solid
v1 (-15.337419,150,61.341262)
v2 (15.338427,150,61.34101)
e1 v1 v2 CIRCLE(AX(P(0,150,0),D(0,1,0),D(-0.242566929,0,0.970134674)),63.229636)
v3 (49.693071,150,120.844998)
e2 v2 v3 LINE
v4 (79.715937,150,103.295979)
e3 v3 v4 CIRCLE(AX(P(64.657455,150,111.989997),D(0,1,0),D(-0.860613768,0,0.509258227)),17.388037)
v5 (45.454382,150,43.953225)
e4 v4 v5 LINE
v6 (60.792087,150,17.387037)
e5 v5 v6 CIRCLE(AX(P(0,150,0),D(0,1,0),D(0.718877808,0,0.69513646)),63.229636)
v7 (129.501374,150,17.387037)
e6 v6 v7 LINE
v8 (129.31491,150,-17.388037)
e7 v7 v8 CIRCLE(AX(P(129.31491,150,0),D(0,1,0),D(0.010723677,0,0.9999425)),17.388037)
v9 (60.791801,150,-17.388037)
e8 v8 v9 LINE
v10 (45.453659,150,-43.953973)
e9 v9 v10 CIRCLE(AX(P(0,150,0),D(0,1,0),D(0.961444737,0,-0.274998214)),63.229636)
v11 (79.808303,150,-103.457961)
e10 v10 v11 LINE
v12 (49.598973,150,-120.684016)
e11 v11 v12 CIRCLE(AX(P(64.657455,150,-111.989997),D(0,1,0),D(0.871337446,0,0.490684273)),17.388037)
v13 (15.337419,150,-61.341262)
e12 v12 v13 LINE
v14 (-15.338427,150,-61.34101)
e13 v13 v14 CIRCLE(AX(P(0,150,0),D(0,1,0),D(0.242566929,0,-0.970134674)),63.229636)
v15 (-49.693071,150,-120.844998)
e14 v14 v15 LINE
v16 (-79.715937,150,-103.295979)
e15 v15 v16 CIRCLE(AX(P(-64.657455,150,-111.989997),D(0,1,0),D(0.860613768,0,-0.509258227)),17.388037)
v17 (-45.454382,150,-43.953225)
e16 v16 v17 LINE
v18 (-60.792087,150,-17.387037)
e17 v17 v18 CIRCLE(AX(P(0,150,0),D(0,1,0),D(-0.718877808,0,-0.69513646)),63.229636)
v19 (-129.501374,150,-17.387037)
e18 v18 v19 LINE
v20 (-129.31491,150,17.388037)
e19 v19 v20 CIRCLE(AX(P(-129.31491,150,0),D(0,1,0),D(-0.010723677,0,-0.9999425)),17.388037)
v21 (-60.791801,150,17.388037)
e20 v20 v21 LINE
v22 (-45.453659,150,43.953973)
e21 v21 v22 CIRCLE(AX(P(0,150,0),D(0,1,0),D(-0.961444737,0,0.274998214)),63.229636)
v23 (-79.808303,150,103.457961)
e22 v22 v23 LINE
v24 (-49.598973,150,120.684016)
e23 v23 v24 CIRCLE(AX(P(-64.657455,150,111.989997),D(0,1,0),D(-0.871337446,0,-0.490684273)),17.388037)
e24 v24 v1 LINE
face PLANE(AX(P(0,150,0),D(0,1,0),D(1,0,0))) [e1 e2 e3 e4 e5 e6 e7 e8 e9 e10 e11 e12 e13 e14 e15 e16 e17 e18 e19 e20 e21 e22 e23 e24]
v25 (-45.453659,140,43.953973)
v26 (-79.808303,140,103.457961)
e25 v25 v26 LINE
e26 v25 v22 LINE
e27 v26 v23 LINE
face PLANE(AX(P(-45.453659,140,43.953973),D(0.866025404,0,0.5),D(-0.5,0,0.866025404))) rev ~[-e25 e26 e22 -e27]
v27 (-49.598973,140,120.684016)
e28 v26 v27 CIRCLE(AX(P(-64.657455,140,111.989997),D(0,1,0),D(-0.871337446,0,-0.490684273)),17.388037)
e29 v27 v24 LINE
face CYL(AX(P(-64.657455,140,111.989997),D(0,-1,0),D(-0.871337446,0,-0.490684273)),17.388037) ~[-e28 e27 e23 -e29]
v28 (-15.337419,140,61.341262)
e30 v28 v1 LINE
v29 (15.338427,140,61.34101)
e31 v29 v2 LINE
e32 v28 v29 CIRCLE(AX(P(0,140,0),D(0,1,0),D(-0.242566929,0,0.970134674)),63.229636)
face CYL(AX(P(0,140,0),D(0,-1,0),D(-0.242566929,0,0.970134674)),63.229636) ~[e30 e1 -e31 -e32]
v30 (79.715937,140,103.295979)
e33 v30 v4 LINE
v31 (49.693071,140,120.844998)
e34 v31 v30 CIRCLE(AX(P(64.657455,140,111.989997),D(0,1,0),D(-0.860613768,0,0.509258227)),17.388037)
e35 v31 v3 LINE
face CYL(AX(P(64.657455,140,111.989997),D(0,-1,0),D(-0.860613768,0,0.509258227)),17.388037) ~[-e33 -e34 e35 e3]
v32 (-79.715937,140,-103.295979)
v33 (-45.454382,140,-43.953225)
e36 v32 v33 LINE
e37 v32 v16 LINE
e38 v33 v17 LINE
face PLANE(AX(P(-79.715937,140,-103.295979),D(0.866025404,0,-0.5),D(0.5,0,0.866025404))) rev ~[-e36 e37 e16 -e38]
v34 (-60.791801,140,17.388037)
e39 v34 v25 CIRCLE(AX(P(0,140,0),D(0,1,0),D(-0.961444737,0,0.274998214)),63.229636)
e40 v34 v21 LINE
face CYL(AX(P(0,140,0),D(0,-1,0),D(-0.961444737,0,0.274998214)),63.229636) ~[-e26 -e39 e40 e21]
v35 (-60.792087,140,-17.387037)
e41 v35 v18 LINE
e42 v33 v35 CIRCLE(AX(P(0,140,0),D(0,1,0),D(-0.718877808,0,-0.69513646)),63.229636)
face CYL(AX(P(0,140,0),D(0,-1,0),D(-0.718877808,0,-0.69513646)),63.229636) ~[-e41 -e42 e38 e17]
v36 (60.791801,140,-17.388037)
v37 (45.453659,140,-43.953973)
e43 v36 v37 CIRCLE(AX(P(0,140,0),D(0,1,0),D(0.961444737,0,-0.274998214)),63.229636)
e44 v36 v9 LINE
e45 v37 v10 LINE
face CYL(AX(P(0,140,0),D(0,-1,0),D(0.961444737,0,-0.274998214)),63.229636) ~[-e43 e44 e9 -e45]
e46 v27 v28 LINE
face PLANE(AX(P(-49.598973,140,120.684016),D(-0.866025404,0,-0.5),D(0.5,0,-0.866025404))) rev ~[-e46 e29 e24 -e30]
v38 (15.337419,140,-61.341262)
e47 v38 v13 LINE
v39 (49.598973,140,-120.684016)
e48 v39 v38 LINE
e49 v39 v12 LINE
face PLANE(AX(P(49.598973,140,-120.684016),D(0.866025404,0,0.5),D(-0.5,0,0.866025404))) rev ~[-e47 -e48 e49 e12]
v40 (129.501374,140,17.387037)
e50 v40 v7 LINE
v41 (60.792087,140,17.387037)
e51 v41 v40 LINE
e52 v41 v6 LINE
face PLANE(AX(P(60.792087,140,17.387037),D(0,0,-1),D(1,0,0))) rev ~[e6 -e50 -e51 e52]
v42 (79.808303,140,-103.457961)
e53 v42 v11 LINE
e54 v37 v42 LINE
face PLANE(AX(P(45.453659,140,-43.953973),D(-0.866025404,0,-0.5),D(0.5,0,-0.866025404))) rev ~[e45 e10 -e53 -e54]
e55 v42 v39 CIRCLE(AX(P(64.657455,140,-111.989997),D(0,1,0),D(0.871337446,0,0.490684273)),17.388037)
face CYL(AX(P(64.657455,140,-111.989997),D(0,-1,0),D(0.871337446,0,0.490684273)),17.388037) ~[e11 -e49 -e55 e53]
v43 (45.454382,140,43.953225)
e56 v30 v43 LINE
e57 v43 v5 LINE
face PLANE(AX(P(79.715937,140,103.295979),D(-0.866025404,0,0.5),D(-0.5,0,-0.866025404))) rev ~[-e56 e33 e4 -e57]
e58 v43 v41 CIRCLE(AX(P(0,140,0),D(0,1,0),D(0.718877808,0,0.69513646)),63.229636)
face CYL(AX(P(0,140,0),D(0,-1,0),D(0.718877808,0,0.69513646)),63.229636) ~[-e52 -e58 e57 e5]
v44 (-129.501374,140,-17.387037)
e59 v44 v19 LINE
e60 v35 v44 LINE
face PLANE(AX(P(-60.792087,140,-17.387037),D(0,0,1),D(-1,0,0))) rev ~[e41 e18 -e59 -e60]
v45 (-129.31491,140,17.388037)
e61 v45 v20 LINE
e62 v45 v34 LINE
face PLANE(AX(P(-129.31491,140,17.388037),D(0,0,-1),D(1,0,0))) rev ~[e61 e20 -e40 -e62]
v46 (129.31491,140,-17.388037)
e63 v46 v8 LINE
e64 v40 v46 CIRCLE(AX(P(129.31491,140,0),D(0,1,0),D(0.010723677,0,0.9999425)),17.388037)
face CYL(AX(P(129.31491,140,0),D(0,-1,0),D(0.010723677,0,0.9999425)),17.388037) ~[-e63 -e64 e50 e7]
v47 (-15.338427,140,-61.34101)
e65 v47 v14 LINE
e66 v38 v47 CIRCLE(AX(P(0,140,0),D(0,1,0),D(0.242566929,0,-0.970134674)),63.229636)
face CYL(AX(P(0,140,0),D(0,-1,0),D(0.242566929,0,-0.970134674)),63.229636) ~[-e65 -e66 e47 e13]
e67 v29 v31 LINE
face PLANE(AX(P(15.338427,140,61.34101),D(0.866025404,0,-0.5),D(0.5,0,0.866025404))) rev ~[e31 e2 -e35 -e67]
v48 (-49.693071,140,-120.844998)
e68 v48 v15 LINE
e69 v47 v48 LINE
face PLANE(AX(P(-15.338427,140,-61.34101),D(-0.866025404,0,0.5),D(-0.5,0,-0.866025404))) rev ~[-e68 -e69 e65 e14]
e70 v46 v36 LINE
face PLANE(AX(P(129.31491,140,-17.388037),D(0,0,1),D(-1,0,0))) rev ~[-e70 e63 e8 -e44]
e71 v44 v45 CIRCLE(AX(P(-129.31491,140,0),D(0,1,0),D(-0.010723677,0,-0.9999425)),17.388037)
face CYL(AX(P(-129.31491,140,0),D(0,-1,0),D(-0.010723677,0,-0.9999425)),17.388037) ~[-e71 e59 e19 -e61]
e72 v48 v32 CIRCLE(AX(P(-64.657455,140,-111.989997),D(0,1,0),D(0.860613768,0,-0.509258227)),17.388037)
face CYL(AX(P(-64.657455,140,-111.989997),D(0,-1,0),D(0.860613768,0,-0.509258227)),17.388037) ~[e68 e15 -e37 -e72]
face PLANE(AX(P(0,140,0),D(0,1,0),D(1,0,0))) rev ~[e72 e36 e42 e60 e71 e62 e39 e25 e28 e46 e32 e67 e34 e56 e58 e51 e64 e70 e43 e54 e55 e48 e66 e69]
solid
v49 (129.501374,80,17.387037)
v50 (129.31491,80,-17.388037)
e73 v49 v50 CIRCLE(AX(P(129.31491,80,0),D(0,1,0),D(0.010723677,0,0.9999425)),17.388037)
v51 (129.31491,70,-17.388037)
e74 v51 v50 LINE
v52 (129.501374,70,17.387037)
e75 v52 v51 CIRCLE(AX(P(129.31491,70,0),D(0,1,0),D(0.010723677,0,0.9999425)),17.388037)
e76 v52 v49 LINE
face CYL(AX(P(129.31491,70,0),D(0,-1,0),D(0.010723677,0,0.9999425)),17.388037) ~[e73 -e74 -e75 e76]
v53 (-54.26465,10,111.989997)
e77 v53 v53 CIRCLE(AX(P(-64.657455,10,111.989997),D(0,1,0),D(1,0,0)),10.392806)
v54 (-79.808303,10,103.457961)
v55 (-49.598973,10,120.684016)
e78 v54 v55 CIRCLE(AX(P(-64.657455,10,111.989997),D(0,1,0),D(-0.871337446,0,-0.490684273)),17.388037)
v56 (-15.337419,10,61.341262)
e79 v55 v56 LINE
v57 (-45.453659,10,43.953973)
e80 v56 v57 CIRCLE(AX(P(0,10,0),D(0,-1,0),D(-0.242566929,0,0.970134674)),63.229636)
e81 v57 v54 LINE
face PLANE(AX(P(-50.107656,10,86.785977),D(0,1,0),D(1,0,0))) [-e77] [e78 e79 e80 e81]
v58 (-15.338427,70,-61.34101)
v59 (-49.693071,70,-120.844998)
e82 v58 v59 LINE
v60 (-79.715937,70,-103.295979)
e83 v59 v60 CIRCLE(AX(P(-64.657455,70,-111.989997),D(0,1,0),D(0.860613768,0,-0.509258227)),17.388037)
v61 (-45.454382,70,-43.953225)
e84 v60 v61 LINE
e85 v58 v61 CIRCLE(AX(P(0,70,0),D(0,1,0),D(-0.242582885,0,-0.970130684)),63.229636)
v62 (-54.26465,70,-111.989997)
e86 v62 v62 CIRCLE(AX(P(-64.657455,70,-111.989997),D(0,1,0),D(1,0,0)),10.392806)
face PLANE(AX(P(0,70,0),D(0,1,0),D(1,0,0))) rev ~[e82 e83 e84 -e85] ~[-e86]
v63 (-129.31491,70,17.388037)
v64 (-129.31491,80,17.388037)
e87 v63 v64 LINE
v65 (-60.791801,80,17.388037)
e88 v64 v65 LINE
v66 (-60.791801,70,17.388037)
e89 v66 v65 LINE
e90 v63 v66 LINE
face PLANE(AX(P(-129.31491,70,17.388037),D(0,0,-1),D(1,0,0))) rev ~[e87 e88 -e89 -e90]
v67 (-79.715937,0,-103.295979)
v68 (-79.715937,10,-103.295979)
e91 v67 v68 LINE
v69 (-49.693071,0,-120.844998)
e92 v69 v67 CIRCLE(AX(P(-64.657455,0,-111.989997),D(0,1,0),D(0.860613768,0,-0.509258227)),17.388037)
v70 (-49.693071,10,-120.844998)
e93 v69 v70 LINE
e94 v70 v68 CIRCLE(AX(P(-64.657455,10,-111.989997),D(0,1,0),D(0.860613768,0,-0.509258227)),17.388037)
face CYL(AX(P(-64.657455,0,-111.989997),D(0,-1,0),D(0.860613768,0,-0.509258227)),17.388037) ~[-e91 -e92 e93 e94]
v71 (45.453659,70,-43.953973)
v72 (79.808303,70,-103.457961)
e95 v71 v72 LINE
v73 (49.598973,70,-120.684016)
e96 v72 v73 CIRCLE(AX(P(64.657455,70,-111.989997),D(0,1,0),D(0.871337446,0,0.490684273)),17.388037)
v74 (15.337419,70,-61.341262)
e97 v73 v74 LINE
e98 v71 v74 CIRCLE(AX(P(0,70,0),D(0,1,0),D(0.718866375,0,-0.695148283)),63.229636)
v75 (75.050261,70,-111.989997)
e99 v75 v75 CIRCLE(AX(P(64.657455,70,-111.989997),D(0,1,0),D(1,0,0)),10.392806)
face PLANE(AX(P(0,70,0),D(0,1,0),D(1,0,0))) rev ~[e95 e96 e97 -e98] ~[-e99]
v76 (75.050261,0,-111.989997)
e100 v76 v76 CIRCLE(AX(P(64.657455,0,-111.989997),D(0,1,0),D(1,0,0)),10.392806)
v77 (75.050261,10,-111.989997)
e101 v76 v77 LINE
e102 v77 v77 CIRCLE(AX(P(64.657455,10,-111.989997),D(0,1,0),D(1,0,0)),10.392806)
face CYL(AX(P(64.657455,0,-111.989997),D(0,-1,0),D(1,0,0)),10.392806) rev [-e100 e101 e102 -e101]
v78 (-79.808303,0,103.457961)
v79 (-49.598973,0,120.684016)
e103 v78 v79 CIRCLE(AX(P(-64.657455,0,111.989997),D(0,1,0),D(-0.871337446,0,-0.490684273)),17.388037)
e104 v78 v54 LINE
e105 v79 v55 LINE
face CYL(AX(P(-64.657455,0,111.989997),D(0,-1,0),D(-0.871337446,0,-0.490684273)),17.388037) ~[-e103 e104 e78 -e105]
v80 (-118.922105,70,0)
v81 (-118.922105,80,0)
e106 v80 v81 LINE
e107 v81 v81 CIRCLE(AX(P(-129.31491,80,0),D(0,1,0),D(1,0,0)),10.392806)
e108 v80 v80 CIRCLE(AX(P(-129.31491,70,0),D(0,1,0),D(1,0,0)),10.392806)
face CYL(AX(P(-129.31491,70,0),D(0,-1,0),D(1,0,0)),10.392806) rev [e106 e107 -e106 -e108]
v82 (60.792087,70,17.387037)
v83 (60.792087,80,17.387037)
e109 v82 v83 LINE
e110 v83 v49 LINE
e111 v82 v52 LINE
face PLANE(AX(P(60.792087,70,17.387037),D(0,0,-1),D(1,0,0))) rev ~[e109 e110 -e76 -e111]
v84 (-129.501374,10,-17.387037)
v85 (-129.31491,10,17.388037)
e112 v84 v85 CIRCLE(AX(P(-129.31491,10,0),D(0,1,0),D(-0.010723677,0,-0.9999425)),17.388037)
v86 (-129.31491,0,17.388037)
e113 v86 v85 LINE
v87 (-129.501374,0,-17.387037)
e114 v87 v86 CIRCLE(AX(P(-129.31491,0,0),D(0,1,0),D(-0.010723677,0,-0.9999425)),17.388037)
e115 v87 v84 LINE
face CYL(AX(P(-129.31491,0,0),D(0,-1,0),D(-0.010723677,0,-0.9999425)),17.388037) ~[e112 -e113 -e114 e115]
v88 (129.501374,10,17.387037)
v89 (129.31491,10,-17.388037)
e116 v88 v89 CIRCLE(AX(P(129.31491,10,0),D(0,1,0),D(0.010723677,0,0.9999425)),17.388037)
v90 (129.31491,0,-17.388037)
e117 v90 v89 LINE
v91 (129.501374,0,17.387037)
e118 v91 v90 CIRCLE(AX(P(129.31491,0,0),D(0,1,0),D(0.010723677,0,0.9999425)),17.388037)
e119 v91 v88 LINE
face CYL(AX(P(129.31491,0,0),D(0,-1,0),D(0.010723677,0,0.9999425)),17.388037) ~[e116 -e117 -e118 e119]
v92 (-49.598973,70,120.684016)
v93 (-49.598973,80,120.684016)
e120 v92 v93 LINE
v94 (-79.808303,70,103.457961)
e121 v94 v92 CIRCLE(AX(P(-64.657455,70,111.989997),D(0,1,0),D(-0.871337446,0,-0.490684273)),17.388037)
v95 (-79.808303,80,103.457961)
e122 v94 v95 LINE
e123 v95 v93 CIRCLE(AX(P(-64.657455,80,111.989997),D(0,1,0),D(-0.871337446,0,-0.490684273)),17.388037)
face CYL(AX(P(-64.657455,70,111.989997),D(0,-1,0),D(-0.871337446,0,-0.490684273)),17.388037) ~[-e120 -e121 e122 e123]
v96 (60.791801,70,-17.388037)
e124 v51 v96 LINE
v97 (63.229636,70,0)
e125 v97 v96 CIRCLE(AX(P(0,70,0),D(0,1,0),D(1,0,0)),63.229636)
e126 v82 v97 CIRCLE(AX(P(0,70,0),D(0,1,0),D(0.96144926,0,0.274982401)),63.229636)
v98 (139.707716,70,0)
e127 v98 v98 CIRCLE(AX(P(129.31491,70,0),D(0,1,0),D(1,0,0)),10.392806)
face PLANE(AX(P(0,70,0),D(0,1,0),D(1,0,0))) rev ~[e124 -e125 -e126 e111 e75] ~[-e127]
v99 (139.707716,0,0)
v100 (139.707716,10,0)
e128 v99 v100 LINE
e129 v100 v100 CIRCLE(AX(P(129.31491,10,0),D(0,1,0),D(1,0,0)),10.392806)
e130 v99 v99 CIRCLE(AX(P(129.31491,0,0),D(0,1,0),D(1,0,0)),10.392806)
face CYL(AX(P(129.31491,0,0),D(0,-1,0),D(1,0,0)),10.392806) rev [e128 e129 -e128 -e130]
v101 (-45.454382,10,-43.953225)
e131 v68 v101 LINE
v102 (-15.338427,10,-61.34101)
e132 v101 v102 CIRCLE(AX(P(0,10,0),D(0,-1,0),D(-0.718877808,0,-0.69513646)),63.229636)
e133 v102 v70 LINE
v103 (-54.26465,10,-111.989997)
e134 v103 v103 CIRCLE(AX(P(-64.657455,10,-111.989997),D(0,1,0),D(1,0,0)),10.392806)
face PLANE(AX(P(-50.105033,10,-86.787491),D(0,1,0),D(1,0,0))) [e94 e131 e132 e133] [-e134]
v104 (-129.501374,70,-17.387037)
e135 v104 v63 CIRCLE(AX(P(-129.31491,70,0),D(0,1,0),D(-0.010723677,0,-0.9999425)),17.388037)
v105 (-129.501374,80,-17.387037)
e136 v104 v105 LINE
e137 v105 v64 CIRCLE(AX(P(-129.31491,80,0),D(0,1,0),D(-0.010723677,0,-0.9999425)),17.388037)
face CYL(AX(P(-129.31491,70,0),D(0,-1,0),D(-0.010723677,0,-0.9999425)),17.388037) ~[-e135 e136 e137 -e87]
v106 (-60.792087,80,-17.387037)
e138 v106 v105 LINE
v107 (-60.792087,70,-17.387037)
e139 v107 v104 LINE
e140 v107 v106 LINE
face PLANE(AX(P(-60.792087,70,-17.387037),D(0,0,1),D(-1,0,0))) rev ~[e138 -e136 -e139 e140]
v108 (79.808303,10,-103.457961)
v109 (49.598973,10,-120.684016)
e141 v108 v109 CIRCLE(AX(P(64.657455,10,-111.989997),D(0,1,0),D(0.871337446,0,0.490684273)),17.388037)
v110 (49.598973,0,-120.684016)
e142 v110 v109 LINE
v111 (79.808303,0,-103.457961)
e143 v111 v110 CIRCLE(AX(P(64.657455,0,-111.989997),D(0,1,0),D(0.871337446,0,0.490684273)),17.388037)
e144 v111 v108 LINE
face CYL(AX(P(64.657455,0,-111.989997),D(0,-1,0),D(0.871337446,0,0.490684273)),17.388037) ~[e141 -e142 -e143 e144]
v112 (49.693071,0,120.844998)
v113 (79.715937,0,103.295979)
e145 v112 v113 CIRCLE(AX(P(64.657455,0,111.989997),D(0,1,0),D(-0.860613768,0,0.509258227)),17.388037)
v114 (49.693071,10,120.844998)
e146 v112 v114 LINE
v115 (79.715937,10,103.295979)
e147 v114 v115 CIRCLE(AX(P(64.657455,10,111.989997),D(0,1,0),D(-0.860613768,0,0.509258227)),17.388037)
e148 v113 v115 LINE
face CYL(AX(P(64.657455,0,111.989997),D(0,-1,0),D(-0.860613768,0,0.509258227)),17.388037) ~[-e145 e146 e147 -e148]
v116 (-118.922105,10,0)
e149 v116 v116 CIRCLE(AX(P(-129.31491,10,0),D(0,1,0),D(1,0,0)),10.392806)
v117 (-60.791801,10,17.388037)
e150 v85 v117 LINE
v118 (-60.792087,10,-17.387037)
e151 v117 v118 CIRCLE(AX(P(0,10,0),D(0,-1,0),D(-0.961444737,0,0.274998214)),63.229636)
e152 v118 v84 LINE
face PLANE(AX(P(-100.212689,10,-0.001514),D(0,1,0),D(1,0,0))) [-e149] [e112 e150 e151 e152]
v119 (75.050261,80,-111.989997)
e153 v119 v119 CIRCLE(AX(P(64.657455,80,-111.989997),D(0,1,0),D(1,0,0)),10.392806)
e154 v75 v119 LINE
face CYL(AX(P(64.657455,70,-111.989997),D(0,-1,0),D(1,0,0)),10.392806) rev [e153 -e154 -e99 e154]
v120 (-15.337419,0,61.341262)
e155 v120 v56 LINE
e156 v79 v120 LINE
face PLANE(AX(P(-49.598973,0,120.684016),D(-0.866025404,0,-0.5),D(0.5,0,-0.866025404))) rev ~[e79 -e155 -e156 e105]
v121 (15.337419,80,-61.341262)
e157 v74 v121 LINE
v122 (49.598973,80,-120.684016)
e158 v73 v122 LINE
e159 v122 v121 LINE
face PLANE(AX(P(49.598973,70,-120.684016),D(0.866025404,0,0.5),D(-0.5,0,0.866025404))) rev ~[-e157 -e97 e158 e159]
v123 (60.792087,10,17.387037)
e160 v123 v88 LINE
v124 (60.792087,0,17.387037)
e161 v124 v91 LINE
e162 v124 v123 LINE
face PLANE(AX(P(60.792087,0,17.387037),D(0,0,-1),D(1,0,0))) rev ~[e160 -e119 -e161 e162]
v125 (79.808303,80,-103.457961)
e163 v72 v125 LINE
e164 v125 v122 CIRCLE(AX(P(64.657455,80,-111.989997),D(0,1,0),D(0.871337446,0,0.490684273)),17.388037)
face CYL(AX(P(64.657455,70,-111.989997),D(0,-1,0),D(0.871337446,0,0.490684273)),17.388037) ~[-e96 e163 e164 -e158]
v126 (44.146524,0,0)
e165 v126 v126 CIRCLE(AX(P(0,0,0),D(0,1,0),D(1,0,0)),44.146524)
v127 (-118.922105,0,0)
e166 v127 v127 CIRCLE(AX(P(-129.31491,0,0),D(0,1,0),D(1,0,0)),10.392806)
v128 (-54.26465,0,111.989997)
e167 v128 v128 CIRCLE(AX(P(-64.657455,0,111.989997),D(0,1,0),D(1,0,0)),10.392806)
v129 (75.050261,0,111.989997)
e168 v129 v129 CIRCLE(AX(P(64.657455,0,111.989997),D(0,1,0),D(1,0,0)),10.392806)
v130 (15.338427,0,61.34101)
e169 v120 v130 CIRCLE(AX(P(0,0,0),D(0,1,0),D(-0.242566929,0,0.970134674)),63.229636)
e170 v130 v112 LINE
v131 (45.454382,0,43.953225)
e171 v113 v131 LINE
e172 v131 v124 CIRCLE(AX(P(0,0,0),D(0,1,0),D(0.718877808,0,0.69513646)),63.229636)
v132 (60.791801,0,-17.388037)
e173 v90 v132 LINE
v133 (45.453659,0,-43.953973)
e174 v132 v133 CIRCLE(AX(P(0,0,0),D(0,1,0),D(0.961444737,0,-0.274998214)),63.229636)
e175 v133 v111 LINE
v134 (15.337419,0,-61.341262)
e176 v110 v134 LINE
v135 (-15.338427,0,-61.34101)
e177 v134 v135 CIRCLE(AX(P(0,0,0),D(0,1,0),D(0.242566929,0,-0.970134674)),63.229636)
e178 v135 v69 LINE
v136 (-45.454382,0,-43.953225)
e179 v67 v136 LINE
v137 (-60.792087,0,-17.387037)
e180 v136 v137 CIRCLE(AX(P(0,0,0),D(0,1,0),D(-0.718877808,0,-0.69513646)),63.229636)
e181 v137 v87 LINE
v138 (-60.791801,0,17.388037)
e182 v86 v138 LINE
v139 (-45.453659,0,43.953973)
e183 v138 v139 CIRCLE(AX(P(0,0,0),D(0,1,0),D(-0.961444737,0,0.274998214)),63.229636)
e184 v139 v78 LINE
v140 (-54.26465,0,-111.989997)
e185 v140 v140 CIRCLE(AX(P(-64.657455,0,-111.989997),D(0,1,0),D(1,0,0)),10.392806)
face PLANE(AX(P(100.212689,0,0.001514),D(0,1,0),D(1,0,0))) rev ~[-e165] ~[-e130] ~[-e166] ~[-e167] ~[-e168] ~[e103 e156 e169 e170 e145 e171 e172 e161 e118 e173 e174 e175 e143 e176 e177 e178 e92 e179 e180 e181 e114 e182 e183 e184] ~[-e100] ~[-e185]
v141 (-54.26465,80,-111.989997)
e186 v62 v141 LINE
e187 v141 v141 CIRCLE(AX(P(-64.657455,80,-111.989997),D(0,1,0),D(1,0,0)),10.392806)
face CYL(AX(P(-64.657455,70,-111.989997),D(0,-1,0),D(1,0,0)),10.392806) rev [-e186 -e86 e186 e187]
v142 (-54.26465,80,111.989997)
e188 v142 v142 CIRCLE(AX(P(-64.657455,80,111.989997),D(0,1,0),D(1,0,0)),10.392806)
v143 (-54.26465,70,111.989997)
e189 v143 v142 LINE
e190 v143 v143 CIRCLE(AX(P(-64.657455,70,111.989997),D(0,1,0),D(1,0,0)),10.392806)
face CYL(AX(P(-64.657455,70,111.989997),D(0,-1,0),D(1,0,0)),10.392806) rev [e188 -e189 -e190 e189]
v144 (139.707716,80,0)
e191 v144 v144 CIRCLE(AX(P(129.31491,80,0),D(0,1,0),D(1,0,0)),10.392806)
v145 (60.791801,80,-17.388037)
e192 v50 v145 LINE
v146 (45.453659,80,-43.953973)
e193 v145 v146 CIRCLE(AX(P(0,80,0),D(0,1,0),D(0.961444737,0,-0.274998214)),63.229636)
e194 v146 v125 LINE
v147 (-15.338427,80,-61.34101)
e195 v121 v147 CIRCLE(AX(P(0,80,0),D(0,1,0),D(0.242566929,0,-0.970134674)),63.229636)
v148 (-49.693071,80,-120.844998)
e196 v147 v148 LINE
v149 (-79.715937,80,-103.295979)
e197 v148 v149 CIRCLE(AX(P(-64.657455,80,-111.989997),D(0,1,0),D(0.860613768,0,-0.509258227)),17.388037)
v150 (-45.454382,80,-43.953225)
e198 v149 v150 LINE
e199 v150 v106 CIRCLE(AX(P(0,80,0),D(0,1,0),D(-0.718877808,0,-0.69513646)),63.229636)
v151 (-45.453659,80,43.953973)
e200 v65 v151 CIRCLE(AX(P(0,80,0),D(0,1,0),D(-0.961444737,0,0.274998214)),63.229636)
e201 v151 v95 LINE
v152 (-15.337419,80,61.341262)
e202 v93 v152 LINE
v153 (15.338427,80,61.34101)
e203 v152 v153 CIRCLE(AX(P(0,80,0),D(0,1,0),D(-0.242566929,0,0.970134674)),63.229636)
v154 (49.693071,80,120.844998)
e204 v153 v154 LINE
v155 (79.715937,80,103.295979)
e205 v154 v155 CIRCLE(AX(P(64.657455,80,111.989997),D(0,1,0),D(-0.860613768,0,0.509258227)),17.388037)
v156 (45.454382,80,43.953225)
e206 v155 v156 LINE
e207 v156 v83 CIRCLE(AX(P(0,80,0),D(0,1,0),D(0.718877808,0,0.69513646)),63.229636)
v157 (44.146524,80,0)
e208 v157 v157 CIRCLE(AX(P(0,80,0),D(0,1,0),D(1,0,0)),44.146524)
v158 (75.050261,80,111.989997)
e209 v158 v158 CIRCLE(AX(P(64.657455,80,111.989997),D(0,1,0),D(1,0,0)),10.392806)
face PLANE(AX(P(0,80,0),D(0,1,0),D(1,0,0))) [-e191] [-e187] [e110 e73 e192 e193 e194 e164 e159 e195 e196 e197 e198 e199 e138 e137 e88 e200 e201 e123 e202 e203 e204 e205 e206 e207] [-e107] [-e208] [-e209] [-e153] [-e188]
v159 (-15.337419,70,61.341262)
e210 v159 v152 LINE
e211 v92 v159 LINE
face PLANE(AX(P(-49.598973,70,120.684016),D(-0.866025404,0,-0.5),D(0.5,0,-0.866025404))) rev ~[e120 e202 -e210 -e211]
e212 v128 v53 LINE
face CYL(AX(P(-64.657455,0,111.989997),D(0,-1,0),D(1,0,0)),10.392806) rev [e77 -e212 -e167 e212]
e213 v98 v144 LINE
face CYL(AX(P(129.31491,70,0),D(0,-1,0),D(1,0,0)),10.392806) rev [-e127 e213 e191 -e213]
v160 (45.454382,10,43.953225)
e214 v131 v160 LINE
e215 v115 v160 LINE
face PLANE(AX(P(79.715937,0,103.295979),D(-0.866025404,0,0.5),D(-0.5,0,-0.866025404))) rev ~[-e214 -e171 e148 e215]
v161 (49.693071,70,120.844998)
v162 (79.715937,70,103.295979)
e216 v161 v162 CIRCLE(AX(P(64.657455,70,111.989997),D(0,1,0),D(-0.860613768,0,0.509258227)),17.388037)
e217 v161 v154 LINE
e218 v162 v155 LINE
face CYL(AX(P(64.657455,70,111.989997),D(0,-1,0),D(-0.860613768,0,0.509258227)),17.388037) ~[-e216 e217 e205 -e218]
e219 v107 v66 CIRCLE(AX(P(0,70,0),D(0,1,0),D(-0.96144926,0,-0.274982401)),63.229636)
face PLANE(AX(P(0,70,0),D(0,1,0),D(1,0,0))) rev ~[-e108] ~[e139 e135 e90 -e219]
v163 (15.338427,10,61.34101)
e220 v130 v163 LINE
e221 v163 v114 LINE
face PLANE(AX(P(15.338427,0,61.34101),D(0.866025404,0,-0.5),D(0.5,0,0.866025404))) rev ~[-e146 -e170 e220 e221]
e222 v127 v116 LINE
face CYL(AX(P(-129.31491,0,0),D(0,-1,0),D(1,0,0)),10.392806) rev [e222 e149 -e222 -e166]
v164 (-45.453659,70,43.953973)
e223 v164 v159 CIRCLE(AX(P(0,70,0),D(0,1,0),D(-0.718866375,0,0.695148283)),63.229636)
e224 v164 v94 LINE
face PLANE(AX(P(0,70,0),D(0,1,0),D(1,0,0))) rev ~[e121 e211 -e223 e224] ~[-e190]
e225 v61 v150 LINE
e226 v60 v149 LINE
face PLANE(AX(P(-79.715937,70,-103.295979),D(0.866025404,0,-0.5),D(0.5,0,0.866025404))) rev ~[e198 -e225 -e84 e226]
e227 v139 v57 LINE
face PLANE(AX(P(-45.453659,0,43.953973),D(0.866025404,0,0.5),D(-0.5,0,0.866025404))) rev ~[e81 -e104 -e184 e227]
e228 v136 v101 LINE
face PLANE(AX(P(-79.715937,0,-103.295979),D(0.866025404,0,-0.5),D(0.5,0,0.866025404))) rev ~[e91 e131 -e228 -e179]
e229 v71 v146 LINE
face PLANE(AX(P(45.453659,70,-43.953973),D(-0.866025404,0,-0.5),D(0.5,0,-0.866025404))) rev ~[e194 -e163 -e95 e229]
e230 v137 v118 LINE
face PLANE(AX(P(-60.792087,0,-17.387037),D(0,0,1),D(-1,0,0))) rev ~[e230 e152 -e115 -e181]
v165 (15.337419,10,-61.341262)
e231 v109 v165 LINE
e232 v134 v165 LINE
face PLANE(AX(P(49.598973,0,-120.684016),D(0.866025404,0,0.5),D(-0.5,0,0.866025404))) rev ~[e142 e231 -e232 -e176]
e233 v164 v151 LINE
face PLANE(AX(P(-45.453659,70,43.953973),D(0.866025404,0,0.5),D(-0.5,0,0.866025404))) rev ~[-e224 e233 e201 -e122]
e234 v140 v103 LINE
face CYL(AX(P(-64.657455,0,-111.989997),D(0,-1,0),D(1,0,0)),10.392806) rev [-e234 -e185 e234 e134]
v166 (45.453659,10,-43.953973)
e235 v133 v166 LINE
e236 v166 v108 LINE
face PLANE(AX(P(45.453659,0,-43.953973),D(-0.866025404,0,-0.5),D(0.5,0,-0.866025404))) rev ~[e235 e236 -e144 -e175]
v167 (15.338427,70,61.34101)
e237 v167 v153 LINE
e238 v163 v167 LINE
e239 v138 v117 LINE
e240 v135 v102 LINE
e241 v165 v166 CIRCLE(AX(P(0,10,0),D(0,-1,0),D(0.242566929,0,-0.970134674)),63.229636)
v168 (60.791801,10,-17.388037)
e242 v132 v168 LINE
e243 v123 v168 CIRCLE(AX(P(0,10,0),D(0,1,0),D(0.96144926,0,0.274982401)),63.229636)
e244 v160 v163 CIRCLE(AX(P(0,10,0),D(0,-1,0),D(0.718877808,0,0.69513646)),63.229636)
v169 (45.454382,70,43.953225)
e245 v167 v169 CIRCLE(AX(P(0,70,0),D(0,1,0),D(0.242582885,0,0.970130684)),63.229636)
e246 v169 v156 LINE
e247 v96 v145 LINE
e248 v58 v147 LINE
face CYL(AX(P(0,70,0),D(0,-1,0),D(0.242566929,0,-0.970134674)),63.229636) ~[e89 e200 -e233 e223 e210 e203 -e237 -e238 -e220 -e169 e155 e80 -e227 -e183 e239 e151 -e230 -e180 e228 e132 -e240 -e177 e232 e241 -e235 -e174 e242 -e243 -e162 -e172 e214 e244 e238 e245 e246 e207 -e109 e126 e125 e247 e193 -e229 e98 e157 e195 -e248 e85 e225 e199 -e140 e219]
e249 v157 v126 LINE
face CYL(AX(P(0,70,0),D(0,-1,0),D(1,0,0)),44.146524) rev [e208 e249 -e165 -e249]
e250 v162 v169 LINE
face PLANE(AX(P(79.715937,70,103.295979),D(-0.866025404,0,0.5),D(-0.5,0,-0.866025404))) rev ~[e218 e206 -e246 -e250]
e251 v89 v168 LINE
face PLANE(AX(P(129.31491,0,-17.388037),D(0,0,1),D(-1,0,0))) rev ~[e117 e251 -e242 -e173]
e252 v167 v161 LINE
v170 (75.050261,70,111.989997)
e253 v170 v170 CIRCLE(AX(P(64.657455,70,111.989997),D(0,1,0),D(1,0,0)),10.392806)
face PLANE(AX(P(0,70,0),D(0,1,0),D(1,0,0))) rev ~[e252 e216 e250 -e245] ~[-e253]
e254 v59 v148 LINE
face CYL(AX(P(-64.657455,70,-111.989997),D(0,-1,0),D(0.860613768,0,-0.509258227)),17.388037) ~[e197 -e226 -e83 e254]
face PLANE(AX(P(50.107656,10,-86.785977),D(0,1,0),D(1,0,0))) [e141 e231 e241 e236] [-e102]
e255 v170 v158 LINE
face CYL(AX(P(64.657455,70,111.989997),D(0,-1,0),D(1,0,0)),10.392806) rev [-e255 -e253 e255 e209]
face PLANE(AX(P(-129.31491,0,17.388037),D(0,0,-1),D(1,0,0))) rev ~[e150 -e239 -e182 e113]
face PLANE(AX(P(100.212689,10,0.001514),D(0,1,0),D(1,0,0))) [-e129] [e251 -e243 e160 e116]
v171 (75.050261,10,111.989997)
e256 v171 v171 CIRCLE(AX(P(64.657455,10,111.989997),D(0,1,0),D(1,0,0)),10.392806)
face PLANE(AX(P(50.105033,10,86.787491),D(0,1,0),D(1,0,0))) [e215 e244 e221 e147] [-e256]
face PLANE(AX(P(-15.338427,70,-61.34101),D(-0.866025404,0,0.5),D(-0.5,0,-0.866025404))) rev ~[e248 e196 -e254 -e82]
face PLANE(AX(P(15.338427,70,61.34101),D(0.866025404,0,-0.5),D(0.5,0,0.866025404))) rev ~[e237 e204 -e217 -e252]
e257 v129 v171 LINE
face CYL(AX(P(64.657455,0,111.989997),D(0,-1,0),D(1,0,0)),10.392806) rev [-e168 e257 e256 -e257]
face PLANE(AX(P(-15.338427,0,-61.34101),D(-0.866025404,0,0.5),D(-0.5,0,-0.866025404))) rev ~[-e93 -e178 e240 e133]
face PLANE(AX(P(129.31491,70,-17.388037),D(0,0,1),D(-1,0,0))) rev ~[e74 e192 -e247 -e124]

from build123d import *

# Parameters (mm, degrees)
SKETCH1_R           = 44.14652409
BOSS_EXTRUDE1_DEPTH = 70
SKETCH1_3_R         = 10.392805584
BOSS_EXTRUDE2_DEPTH = 10
SKETCH5_R           = 10.392805584
SKETCH5_R_2         = 44.14652409
BOSS_EXTRUDE5_DEPTH = 10
BOSS_EXTRUDE6_DEPTH = 10


with BuildPart() as part:
    # Sketch1 → Boss-Extrude1 (new body)
    with BuildSketch(Plane(origin=(0, 0, 0), x_dir=(1, 0, 0), z_dir=(0, 1, 0))):
        with BuildLine():
            ThreePointArc((63.229635805, 0), (62.617211108, 8.779049896), (60.791800569, 17.388036912))
            ThreePointArc((60.791800569, 17.388036912), (54.7582109, 31.615268195), (45.453659087, 43.953972739))
            ThreePointArc((45.453659087, 43.953972739), (31.614367608, 54.758730854), (15.337418597, 61.34126209))
            ThreePointArc((15.337418597, 61.34126209), (-0.000519954, 63.229635803), (-15.338427446, 61.341009834))
            ThreePointArc((-15.338427446, 61.341009834), (-31.615268195, 54.7582109), (-45.454381972, 43.953225178))
            ThreePointArc((-45.454381972, 43.953225178), (-54.758730854, 31.614367608), (-60.792086533, 17.387037095))
            ThreePointArc((-60.792086533, 17.387037095), (-63.229635803, -0.000519954), (-60.791800569, -17.388036912))
            ThreePointArc((-60.791800569, -17.388036912), (-54.7582109, -31.615268195), (-45.453659087, -43.953972739))
            ThreePointArc((-45.453659087, -43.953972739), (-31.614367608, -54.758730854), (-15.337418597, -61.34126209))
            ThreePointArc((-15.337418597, -61.34126209), (0.000519954, -63.229635803), (15.338427446, -61.341009834))
            ThreePointArc((15.338427446, -61.341009834), (31.615268195, -54.7582109), (45.454381972, -43.953225178))
            ThreePointArc((45.454381972, -43.953225178), (54.758730854, -31.614367608), (60.792086533, -17.387037095))
            ThreePointArc((60.792086533, -17.387037095), (62.617283298, -8.778534977), (63.229635805, 0))
        make_face()
        Circle(SKETCH1_R, mode=Mode.SUBTRACT)
    extrude(amount=BOSS_EXTRUDE1_DEPTH)

    # Sketch1<3> → Boss-Extrude2 (add)
    # profile 1 of 6: a face of its own
    with BuildSketch(Plane(origin=(0, 0, 0), x_dir=(1, 0, 0), z_dir=(0, 1, 0))):
        with BuildLine():
            Line((129.314910219, 17.388036912), (60.791800569, 17.388036912))
            ThreePointArc((60.791800569, 17.388036912), (63.229635803, 0.000519954), (60.792086533, -17.387037095))
            Line((60.792086533, -17.387037095), (129.501373917, -17.387037095))
            ThreePointArc((129.501373917, -17.387037095), (146.702697175, 0.093233189), (129.314910219, 17.388036912))
        make_face()
        with Locations((129.314910219, 0)):
            Circle(SKETCH1_3_R, mode=Mode.SUBTRACT)
    # profile 2 of 6: a face of its own
    with BuildSketch(Plane(origin=(0, 0, 0), x_dir=(1, 0, 0), z_dir=(0, 1, 0))):
        with BuildLine():
            ThreePointArc((15.337418597, 61.34126209), (31.614367608, 54.758730854), (45.453659087, 43.953972739))
            Line((45.453659087, 43.953972739), (79.808302779, 103.45796109))
            ThreePointArc((79.808302779, 103.45796109), (73.270606277, 127.094879152), (49.598973422, 120.684015794))
            Line((49.598973422, 120.684015794), (15.337418597, 61.34126209))
        make_face()
        with Locations((64.65745511, 111.989997338)):
            Circle(SKETCH1_3_R, mode=Mode.SUBTRACT)
    # profile 3 of 6: a face of its own
    with BuildSketch(Plane(origin=(0, 0, 0), x_dir=(1, 0, 0), z_dir=(0, 1, 0))):
        with BuildLine():
            Line((79.715936797, -103.295978882), (45.454381972, -43.953225178))
            ThreePointArc((45.454381972, -43.953225178), (31.615268195, -54.7582109), (15.338427446, -61.341009834))
            Line((15.338427446, -61.341009834), (49.693071138, -120.844998185))
            ThreePointArc((49.693071138, -120.844998185), (73.432090898, -127.001645963), (79.715936797, -103.295978882))
        make_face()
        with Locations((64.65745511, -111.989997338)):
            Circle(SKETCH1_3_R, mode=Mode.SUBTRACT)
    # profile 4 of 6: a face of its own
    with BuildSketch(Plane(origin=(0, 0, 0), x_dir=(1, 0, 0), z_dir=(0, 1, 0))):
        with BuildLine():
            ThreePointArc((-45.454381972, 43.953225178), (-31.615268195, 54.7582109), (-15.338427446, 61.341009834))
            Line((-15.338427446, 61.341009834), (-49.693071138, 120.844998185))
            ThreePointArc((-49.693071138, 120.844998185), (-73.432090898, 127.001645963), (-79.715936797, 103.295978882))
            Line((-79.715936797, 103.295978882), (-45.454381972, 43.953225178))
        make_face()
        with Locations((-64.65745511, 111.989997338)):
            Circle(SKETCH1_3_R, mode=Mode.SUBTRACT)
    # profile 5 of 6: a face of its own
    with BuildSketch(Plane(origin=(0, 0, 0), x_dir=(1, 0, 0), z_dir=(0, 1, 0))):
        with BuildLine():
            Line((-49.598973422, -120.684015794), (-15.337418597, -61.34126209))
            ThreePointArc((-15.337418597, -61.34126209), (-31.614367608, -54.758730854), (-45.453659087, -43.953972739))
            Line((-45.453659087, -43.953972739), (-79.808302779, -103.45796109))
            ThreePointArc((-79.808302779, -103.45796109), (-73.270606277, -127.094879152), (-49.598973422, -120.684015794))
        make_face()
        with Locations((-64.65745511, -111.989997338)):
            Circle(SKETCH1_3_R, mode=Mode.SUBTRACT)
    # profile 6 of 6: a face of its own
    with BuildSketch(Plane(origin=(0, 0, 0), x_dir=(1, 0, 0), z_dir=(0, 1, 0))):
        with BuildLine():
            ThreePointArc((-60.791800569, -17.388036912), (-63.229635803, -0.000519954), (-60.792086533, 17.387037095))
            Line((-60.792086533, 17.387037095), (-129.501373917, 17.387037095))
            ThreePointArc((-129.501373917, 17.387037095), (-146.702697175, -0.093233189), (-129.314910219, -17.388036912))
            Line((-129.314910219, -17.388036912), (-60.791800569, -17.388036912))
        make_face()
        with Locations((-129.314910219, 0)):
            Circle(SKETCH1_3_R, mode=Mode.SUBTRACT)
    extrude(amount=BOSS_EXTRUDE2_DEPTH)

    # Sketch5 → Boss-Extrude5 (add)
    with BuildSketch(Plane(origin=(0, 70, 0), x_dir=(1, 0, 0), z_dir=(0, 1, 0))):
        with BuildLine():
            ThreePointArc((-49.693071138, 120.844998185), (-73.432090898, 127.001645963), (-79.715936797, 103.295978882))
            Line((-79.715936797, 103.295978882), (-45.454381972, 43.953225178))
            ThreePointArc((-45.454381972, 43.953225178), (-54.758730854, 31.614367608), (-60.792086533, 17.387037095))
            Line((-60.792086533, 17.387037095), (-129.501373917, 17.387037095))
            ThreePointArc((-129.501373917, 17.387037095), (-146.702697175, -0.093233189), (-129.314910219, -17.388036912))
            Line((-129.314910219, -17.388036912), (-60.791800569, -17.388036912))
            ThreePointArc((-60.791800569, -17.388036912), (-54.7582109, -31.615268195), (-45.453659087, -43.953972739))
            Line((-45.453659087, -43.953972739), (-79.808302779, -103.45796109))
            ThreePointArc((-79.808302779, -103.45796109), (-73.270606277, -127.094879152), (-49.598973422, -120.684015794))
            Line((-49.598973422, -120.684015794), (-15.337418597, -61.34126209))
            ThreePointArc((-15.337418597, -61.34126209), (0.000519954, -63.229635803), (15.338427446, -61.341009834))
            Line((15.338427446, -61.341009834), (49.693071138, -120.844998185))
            ThreePointArc((49.693071138, -120.844998185), (73.432090898, -127.001645963), (79.715936797, -103.295978882))
            Line((79.715936797, -103.295978882), (45.454381972, -43.953225178))
            ThreePointArc((45.454381972, -43.953225178), (54.758730854, -31.614367608), (60.792086533, -17.387037095))
            Line((60.792086533, -17.387037095), (129.501373917, -17.387037095))
            ThreePointArc((129.501373917, -17.387037095), (146.702697175, 0.093233189), (129.314910219, 17.388036912))
            Line((129.314910219, 17.388036912), (60.791800569, 17.388036912))
            ThreePointArc((60.791800569, 17.388036912), (54.7582109, 31.615268195), (45.453659087, 43.953972739))
            Line((45.453659087, 43.953972739), (79.808302779, 103.45796109))
            ThreePointArc((79.808302779, 103.45796109), (73.270606277, 127.094879152), (49.598973422, 120.684015794))
            Line((49.598973422, 120.684015794), (15.337418597, 61.34126209))
            ThreePointArc((15.337418597, 61.34126209), (-0.000519954, 63.229635803), (-15.338427446, 61.341009834))
            Line((-15.338427446, 61.341009834), (-49.693071138, 120.844998185))
        make_face()
        with Locations((-64.65745511, 111.989997338)):
            Circle(SKETCH5_R, mode=Mode.SUBTRACT)
        Circle(SKETCH5_R_2, mode=Mode.SUBTRACT)
        with Locations((64.65745511, 111.989997338)):
            Circle(SKETCH5_R, mode=Mode.SUBTRACT)
        with Locations((129.314910219, 0)):
            Circle(SKETCH5_R, mode=Mode.SUBTRACT)
        with Locations((64.65745511, -111.989997338)):
            Circle(SKETCH5_R, mode=Mode.SUBTRACT)
        with Locations((-64.65745511, -111.989997338)):
            Circle(SKETCH5_R, mode=Mode.SUBTRACT)
        with Locations((-129.314910219, 0)):
            Circle(SKETCH5_R, mode=Mode.SUBTRACT)
    extrude(amount=BOSS_EXTRUDE5_DEPTH)


with BuildPart() as body_2:
    # Sketch6 → Boss-Extrude6 (new body)
    with BuildSketch(Plane(origin=(0, 140, 0), x_dir=(1, 0, 0), z_dir=(0, 1, 0))):
        with BuildLine():
            Line((15.338427446, -61.341009834), (49.693071138, -120.844998185))
            ThreePointArc((49.693071138, -120.844998185), (73.432090898, -127.001645963), (79.715936797, -103.295978882))
            Line((79.715936797, -103.295978882), (45.454381972, -43.953225178))
            ThreePointArc((45.454381972, -43.953225178), (54.758730854, -31.614367608), (60.792086533, -17.387037095))
            Line((60.792086533, -17.387037095), (129.501373917, -17.387037095))
            ThreePointArc((129.501373917, -17.387037095), (146.702697175, 0.093233189), (129.314910219, 17.388036912))
            Line((129.314910219, 17.388036912), (60.791800569, 17.388036912))
            ThreePointArc((60.791800569, 17.388036912), (54.7582109, 31.615268195), (45.453659087, 43.953972739))
            Line((45.453659087, 43.953972739), (79.808302779, 103.45796109))
            ThreePointArc((79.808302779, 103.45796109), (73.270606277, 127.094879152), (49.598973422, 120.684015794))
            Line((49.598973422, 120.684015794), (15.337418597, 61.34126209))
            ThreePointArc((15.337418597, 61.34126209), (-0.000519954, 63.229635803), (-15.338427446, 61.341009834))
            Line((-15.338427446, 61.341009834), (-49.693071138, 120.844998185))
            ThreePointArc((-49.693071138, 120.844998185), (-73.432090898, 127.001645963), (-79.715936797, 103.295978882))
            Line((-79.715936797, 103.295978882), (-45.454381972, 43.953225178))
            ThreePointArc((-45.454381972, 43.953225178), (-54.758730854, 31.614367608), (-60.792086533, 17.387037095))
            Line((-60.792086533, 17.387037095), (-129.501373917, 17.387037095))
            ThreePointArc((-129.501373917, 17.387037095), (-146.702697175, -0.093233189), (-129.314910219, -17.388036912))
            Line((-129.314910219, -17.388036912), (-60.791800569, -17.388036912))
            ThreePointArc((-60.791800569, -17.388036912), (-54.7582109, -31.615268195), (-45.453659087, -43.953972739))
            Line((-45.453659087, -43.953972739), (-79.808302779, -103.45796109))
            ThreePointArc((-79.808302779, -103.45796109), (-73.270606277, -127.094879152), (-49.598973422, -120.684015794))
            Line((-49.598973422, -120.684015794), (-15.337418597, -61.34126209))
            ThreePointArc((-15.337418597, -61.34126209), (0.000519954, -63.229635803), (15.338427446, -61.341009834))
        make_face()
    extrude(amount=BOSS_EXTRUDE6_DEPTH)


solid = Compound([part.part, body_2.part])
